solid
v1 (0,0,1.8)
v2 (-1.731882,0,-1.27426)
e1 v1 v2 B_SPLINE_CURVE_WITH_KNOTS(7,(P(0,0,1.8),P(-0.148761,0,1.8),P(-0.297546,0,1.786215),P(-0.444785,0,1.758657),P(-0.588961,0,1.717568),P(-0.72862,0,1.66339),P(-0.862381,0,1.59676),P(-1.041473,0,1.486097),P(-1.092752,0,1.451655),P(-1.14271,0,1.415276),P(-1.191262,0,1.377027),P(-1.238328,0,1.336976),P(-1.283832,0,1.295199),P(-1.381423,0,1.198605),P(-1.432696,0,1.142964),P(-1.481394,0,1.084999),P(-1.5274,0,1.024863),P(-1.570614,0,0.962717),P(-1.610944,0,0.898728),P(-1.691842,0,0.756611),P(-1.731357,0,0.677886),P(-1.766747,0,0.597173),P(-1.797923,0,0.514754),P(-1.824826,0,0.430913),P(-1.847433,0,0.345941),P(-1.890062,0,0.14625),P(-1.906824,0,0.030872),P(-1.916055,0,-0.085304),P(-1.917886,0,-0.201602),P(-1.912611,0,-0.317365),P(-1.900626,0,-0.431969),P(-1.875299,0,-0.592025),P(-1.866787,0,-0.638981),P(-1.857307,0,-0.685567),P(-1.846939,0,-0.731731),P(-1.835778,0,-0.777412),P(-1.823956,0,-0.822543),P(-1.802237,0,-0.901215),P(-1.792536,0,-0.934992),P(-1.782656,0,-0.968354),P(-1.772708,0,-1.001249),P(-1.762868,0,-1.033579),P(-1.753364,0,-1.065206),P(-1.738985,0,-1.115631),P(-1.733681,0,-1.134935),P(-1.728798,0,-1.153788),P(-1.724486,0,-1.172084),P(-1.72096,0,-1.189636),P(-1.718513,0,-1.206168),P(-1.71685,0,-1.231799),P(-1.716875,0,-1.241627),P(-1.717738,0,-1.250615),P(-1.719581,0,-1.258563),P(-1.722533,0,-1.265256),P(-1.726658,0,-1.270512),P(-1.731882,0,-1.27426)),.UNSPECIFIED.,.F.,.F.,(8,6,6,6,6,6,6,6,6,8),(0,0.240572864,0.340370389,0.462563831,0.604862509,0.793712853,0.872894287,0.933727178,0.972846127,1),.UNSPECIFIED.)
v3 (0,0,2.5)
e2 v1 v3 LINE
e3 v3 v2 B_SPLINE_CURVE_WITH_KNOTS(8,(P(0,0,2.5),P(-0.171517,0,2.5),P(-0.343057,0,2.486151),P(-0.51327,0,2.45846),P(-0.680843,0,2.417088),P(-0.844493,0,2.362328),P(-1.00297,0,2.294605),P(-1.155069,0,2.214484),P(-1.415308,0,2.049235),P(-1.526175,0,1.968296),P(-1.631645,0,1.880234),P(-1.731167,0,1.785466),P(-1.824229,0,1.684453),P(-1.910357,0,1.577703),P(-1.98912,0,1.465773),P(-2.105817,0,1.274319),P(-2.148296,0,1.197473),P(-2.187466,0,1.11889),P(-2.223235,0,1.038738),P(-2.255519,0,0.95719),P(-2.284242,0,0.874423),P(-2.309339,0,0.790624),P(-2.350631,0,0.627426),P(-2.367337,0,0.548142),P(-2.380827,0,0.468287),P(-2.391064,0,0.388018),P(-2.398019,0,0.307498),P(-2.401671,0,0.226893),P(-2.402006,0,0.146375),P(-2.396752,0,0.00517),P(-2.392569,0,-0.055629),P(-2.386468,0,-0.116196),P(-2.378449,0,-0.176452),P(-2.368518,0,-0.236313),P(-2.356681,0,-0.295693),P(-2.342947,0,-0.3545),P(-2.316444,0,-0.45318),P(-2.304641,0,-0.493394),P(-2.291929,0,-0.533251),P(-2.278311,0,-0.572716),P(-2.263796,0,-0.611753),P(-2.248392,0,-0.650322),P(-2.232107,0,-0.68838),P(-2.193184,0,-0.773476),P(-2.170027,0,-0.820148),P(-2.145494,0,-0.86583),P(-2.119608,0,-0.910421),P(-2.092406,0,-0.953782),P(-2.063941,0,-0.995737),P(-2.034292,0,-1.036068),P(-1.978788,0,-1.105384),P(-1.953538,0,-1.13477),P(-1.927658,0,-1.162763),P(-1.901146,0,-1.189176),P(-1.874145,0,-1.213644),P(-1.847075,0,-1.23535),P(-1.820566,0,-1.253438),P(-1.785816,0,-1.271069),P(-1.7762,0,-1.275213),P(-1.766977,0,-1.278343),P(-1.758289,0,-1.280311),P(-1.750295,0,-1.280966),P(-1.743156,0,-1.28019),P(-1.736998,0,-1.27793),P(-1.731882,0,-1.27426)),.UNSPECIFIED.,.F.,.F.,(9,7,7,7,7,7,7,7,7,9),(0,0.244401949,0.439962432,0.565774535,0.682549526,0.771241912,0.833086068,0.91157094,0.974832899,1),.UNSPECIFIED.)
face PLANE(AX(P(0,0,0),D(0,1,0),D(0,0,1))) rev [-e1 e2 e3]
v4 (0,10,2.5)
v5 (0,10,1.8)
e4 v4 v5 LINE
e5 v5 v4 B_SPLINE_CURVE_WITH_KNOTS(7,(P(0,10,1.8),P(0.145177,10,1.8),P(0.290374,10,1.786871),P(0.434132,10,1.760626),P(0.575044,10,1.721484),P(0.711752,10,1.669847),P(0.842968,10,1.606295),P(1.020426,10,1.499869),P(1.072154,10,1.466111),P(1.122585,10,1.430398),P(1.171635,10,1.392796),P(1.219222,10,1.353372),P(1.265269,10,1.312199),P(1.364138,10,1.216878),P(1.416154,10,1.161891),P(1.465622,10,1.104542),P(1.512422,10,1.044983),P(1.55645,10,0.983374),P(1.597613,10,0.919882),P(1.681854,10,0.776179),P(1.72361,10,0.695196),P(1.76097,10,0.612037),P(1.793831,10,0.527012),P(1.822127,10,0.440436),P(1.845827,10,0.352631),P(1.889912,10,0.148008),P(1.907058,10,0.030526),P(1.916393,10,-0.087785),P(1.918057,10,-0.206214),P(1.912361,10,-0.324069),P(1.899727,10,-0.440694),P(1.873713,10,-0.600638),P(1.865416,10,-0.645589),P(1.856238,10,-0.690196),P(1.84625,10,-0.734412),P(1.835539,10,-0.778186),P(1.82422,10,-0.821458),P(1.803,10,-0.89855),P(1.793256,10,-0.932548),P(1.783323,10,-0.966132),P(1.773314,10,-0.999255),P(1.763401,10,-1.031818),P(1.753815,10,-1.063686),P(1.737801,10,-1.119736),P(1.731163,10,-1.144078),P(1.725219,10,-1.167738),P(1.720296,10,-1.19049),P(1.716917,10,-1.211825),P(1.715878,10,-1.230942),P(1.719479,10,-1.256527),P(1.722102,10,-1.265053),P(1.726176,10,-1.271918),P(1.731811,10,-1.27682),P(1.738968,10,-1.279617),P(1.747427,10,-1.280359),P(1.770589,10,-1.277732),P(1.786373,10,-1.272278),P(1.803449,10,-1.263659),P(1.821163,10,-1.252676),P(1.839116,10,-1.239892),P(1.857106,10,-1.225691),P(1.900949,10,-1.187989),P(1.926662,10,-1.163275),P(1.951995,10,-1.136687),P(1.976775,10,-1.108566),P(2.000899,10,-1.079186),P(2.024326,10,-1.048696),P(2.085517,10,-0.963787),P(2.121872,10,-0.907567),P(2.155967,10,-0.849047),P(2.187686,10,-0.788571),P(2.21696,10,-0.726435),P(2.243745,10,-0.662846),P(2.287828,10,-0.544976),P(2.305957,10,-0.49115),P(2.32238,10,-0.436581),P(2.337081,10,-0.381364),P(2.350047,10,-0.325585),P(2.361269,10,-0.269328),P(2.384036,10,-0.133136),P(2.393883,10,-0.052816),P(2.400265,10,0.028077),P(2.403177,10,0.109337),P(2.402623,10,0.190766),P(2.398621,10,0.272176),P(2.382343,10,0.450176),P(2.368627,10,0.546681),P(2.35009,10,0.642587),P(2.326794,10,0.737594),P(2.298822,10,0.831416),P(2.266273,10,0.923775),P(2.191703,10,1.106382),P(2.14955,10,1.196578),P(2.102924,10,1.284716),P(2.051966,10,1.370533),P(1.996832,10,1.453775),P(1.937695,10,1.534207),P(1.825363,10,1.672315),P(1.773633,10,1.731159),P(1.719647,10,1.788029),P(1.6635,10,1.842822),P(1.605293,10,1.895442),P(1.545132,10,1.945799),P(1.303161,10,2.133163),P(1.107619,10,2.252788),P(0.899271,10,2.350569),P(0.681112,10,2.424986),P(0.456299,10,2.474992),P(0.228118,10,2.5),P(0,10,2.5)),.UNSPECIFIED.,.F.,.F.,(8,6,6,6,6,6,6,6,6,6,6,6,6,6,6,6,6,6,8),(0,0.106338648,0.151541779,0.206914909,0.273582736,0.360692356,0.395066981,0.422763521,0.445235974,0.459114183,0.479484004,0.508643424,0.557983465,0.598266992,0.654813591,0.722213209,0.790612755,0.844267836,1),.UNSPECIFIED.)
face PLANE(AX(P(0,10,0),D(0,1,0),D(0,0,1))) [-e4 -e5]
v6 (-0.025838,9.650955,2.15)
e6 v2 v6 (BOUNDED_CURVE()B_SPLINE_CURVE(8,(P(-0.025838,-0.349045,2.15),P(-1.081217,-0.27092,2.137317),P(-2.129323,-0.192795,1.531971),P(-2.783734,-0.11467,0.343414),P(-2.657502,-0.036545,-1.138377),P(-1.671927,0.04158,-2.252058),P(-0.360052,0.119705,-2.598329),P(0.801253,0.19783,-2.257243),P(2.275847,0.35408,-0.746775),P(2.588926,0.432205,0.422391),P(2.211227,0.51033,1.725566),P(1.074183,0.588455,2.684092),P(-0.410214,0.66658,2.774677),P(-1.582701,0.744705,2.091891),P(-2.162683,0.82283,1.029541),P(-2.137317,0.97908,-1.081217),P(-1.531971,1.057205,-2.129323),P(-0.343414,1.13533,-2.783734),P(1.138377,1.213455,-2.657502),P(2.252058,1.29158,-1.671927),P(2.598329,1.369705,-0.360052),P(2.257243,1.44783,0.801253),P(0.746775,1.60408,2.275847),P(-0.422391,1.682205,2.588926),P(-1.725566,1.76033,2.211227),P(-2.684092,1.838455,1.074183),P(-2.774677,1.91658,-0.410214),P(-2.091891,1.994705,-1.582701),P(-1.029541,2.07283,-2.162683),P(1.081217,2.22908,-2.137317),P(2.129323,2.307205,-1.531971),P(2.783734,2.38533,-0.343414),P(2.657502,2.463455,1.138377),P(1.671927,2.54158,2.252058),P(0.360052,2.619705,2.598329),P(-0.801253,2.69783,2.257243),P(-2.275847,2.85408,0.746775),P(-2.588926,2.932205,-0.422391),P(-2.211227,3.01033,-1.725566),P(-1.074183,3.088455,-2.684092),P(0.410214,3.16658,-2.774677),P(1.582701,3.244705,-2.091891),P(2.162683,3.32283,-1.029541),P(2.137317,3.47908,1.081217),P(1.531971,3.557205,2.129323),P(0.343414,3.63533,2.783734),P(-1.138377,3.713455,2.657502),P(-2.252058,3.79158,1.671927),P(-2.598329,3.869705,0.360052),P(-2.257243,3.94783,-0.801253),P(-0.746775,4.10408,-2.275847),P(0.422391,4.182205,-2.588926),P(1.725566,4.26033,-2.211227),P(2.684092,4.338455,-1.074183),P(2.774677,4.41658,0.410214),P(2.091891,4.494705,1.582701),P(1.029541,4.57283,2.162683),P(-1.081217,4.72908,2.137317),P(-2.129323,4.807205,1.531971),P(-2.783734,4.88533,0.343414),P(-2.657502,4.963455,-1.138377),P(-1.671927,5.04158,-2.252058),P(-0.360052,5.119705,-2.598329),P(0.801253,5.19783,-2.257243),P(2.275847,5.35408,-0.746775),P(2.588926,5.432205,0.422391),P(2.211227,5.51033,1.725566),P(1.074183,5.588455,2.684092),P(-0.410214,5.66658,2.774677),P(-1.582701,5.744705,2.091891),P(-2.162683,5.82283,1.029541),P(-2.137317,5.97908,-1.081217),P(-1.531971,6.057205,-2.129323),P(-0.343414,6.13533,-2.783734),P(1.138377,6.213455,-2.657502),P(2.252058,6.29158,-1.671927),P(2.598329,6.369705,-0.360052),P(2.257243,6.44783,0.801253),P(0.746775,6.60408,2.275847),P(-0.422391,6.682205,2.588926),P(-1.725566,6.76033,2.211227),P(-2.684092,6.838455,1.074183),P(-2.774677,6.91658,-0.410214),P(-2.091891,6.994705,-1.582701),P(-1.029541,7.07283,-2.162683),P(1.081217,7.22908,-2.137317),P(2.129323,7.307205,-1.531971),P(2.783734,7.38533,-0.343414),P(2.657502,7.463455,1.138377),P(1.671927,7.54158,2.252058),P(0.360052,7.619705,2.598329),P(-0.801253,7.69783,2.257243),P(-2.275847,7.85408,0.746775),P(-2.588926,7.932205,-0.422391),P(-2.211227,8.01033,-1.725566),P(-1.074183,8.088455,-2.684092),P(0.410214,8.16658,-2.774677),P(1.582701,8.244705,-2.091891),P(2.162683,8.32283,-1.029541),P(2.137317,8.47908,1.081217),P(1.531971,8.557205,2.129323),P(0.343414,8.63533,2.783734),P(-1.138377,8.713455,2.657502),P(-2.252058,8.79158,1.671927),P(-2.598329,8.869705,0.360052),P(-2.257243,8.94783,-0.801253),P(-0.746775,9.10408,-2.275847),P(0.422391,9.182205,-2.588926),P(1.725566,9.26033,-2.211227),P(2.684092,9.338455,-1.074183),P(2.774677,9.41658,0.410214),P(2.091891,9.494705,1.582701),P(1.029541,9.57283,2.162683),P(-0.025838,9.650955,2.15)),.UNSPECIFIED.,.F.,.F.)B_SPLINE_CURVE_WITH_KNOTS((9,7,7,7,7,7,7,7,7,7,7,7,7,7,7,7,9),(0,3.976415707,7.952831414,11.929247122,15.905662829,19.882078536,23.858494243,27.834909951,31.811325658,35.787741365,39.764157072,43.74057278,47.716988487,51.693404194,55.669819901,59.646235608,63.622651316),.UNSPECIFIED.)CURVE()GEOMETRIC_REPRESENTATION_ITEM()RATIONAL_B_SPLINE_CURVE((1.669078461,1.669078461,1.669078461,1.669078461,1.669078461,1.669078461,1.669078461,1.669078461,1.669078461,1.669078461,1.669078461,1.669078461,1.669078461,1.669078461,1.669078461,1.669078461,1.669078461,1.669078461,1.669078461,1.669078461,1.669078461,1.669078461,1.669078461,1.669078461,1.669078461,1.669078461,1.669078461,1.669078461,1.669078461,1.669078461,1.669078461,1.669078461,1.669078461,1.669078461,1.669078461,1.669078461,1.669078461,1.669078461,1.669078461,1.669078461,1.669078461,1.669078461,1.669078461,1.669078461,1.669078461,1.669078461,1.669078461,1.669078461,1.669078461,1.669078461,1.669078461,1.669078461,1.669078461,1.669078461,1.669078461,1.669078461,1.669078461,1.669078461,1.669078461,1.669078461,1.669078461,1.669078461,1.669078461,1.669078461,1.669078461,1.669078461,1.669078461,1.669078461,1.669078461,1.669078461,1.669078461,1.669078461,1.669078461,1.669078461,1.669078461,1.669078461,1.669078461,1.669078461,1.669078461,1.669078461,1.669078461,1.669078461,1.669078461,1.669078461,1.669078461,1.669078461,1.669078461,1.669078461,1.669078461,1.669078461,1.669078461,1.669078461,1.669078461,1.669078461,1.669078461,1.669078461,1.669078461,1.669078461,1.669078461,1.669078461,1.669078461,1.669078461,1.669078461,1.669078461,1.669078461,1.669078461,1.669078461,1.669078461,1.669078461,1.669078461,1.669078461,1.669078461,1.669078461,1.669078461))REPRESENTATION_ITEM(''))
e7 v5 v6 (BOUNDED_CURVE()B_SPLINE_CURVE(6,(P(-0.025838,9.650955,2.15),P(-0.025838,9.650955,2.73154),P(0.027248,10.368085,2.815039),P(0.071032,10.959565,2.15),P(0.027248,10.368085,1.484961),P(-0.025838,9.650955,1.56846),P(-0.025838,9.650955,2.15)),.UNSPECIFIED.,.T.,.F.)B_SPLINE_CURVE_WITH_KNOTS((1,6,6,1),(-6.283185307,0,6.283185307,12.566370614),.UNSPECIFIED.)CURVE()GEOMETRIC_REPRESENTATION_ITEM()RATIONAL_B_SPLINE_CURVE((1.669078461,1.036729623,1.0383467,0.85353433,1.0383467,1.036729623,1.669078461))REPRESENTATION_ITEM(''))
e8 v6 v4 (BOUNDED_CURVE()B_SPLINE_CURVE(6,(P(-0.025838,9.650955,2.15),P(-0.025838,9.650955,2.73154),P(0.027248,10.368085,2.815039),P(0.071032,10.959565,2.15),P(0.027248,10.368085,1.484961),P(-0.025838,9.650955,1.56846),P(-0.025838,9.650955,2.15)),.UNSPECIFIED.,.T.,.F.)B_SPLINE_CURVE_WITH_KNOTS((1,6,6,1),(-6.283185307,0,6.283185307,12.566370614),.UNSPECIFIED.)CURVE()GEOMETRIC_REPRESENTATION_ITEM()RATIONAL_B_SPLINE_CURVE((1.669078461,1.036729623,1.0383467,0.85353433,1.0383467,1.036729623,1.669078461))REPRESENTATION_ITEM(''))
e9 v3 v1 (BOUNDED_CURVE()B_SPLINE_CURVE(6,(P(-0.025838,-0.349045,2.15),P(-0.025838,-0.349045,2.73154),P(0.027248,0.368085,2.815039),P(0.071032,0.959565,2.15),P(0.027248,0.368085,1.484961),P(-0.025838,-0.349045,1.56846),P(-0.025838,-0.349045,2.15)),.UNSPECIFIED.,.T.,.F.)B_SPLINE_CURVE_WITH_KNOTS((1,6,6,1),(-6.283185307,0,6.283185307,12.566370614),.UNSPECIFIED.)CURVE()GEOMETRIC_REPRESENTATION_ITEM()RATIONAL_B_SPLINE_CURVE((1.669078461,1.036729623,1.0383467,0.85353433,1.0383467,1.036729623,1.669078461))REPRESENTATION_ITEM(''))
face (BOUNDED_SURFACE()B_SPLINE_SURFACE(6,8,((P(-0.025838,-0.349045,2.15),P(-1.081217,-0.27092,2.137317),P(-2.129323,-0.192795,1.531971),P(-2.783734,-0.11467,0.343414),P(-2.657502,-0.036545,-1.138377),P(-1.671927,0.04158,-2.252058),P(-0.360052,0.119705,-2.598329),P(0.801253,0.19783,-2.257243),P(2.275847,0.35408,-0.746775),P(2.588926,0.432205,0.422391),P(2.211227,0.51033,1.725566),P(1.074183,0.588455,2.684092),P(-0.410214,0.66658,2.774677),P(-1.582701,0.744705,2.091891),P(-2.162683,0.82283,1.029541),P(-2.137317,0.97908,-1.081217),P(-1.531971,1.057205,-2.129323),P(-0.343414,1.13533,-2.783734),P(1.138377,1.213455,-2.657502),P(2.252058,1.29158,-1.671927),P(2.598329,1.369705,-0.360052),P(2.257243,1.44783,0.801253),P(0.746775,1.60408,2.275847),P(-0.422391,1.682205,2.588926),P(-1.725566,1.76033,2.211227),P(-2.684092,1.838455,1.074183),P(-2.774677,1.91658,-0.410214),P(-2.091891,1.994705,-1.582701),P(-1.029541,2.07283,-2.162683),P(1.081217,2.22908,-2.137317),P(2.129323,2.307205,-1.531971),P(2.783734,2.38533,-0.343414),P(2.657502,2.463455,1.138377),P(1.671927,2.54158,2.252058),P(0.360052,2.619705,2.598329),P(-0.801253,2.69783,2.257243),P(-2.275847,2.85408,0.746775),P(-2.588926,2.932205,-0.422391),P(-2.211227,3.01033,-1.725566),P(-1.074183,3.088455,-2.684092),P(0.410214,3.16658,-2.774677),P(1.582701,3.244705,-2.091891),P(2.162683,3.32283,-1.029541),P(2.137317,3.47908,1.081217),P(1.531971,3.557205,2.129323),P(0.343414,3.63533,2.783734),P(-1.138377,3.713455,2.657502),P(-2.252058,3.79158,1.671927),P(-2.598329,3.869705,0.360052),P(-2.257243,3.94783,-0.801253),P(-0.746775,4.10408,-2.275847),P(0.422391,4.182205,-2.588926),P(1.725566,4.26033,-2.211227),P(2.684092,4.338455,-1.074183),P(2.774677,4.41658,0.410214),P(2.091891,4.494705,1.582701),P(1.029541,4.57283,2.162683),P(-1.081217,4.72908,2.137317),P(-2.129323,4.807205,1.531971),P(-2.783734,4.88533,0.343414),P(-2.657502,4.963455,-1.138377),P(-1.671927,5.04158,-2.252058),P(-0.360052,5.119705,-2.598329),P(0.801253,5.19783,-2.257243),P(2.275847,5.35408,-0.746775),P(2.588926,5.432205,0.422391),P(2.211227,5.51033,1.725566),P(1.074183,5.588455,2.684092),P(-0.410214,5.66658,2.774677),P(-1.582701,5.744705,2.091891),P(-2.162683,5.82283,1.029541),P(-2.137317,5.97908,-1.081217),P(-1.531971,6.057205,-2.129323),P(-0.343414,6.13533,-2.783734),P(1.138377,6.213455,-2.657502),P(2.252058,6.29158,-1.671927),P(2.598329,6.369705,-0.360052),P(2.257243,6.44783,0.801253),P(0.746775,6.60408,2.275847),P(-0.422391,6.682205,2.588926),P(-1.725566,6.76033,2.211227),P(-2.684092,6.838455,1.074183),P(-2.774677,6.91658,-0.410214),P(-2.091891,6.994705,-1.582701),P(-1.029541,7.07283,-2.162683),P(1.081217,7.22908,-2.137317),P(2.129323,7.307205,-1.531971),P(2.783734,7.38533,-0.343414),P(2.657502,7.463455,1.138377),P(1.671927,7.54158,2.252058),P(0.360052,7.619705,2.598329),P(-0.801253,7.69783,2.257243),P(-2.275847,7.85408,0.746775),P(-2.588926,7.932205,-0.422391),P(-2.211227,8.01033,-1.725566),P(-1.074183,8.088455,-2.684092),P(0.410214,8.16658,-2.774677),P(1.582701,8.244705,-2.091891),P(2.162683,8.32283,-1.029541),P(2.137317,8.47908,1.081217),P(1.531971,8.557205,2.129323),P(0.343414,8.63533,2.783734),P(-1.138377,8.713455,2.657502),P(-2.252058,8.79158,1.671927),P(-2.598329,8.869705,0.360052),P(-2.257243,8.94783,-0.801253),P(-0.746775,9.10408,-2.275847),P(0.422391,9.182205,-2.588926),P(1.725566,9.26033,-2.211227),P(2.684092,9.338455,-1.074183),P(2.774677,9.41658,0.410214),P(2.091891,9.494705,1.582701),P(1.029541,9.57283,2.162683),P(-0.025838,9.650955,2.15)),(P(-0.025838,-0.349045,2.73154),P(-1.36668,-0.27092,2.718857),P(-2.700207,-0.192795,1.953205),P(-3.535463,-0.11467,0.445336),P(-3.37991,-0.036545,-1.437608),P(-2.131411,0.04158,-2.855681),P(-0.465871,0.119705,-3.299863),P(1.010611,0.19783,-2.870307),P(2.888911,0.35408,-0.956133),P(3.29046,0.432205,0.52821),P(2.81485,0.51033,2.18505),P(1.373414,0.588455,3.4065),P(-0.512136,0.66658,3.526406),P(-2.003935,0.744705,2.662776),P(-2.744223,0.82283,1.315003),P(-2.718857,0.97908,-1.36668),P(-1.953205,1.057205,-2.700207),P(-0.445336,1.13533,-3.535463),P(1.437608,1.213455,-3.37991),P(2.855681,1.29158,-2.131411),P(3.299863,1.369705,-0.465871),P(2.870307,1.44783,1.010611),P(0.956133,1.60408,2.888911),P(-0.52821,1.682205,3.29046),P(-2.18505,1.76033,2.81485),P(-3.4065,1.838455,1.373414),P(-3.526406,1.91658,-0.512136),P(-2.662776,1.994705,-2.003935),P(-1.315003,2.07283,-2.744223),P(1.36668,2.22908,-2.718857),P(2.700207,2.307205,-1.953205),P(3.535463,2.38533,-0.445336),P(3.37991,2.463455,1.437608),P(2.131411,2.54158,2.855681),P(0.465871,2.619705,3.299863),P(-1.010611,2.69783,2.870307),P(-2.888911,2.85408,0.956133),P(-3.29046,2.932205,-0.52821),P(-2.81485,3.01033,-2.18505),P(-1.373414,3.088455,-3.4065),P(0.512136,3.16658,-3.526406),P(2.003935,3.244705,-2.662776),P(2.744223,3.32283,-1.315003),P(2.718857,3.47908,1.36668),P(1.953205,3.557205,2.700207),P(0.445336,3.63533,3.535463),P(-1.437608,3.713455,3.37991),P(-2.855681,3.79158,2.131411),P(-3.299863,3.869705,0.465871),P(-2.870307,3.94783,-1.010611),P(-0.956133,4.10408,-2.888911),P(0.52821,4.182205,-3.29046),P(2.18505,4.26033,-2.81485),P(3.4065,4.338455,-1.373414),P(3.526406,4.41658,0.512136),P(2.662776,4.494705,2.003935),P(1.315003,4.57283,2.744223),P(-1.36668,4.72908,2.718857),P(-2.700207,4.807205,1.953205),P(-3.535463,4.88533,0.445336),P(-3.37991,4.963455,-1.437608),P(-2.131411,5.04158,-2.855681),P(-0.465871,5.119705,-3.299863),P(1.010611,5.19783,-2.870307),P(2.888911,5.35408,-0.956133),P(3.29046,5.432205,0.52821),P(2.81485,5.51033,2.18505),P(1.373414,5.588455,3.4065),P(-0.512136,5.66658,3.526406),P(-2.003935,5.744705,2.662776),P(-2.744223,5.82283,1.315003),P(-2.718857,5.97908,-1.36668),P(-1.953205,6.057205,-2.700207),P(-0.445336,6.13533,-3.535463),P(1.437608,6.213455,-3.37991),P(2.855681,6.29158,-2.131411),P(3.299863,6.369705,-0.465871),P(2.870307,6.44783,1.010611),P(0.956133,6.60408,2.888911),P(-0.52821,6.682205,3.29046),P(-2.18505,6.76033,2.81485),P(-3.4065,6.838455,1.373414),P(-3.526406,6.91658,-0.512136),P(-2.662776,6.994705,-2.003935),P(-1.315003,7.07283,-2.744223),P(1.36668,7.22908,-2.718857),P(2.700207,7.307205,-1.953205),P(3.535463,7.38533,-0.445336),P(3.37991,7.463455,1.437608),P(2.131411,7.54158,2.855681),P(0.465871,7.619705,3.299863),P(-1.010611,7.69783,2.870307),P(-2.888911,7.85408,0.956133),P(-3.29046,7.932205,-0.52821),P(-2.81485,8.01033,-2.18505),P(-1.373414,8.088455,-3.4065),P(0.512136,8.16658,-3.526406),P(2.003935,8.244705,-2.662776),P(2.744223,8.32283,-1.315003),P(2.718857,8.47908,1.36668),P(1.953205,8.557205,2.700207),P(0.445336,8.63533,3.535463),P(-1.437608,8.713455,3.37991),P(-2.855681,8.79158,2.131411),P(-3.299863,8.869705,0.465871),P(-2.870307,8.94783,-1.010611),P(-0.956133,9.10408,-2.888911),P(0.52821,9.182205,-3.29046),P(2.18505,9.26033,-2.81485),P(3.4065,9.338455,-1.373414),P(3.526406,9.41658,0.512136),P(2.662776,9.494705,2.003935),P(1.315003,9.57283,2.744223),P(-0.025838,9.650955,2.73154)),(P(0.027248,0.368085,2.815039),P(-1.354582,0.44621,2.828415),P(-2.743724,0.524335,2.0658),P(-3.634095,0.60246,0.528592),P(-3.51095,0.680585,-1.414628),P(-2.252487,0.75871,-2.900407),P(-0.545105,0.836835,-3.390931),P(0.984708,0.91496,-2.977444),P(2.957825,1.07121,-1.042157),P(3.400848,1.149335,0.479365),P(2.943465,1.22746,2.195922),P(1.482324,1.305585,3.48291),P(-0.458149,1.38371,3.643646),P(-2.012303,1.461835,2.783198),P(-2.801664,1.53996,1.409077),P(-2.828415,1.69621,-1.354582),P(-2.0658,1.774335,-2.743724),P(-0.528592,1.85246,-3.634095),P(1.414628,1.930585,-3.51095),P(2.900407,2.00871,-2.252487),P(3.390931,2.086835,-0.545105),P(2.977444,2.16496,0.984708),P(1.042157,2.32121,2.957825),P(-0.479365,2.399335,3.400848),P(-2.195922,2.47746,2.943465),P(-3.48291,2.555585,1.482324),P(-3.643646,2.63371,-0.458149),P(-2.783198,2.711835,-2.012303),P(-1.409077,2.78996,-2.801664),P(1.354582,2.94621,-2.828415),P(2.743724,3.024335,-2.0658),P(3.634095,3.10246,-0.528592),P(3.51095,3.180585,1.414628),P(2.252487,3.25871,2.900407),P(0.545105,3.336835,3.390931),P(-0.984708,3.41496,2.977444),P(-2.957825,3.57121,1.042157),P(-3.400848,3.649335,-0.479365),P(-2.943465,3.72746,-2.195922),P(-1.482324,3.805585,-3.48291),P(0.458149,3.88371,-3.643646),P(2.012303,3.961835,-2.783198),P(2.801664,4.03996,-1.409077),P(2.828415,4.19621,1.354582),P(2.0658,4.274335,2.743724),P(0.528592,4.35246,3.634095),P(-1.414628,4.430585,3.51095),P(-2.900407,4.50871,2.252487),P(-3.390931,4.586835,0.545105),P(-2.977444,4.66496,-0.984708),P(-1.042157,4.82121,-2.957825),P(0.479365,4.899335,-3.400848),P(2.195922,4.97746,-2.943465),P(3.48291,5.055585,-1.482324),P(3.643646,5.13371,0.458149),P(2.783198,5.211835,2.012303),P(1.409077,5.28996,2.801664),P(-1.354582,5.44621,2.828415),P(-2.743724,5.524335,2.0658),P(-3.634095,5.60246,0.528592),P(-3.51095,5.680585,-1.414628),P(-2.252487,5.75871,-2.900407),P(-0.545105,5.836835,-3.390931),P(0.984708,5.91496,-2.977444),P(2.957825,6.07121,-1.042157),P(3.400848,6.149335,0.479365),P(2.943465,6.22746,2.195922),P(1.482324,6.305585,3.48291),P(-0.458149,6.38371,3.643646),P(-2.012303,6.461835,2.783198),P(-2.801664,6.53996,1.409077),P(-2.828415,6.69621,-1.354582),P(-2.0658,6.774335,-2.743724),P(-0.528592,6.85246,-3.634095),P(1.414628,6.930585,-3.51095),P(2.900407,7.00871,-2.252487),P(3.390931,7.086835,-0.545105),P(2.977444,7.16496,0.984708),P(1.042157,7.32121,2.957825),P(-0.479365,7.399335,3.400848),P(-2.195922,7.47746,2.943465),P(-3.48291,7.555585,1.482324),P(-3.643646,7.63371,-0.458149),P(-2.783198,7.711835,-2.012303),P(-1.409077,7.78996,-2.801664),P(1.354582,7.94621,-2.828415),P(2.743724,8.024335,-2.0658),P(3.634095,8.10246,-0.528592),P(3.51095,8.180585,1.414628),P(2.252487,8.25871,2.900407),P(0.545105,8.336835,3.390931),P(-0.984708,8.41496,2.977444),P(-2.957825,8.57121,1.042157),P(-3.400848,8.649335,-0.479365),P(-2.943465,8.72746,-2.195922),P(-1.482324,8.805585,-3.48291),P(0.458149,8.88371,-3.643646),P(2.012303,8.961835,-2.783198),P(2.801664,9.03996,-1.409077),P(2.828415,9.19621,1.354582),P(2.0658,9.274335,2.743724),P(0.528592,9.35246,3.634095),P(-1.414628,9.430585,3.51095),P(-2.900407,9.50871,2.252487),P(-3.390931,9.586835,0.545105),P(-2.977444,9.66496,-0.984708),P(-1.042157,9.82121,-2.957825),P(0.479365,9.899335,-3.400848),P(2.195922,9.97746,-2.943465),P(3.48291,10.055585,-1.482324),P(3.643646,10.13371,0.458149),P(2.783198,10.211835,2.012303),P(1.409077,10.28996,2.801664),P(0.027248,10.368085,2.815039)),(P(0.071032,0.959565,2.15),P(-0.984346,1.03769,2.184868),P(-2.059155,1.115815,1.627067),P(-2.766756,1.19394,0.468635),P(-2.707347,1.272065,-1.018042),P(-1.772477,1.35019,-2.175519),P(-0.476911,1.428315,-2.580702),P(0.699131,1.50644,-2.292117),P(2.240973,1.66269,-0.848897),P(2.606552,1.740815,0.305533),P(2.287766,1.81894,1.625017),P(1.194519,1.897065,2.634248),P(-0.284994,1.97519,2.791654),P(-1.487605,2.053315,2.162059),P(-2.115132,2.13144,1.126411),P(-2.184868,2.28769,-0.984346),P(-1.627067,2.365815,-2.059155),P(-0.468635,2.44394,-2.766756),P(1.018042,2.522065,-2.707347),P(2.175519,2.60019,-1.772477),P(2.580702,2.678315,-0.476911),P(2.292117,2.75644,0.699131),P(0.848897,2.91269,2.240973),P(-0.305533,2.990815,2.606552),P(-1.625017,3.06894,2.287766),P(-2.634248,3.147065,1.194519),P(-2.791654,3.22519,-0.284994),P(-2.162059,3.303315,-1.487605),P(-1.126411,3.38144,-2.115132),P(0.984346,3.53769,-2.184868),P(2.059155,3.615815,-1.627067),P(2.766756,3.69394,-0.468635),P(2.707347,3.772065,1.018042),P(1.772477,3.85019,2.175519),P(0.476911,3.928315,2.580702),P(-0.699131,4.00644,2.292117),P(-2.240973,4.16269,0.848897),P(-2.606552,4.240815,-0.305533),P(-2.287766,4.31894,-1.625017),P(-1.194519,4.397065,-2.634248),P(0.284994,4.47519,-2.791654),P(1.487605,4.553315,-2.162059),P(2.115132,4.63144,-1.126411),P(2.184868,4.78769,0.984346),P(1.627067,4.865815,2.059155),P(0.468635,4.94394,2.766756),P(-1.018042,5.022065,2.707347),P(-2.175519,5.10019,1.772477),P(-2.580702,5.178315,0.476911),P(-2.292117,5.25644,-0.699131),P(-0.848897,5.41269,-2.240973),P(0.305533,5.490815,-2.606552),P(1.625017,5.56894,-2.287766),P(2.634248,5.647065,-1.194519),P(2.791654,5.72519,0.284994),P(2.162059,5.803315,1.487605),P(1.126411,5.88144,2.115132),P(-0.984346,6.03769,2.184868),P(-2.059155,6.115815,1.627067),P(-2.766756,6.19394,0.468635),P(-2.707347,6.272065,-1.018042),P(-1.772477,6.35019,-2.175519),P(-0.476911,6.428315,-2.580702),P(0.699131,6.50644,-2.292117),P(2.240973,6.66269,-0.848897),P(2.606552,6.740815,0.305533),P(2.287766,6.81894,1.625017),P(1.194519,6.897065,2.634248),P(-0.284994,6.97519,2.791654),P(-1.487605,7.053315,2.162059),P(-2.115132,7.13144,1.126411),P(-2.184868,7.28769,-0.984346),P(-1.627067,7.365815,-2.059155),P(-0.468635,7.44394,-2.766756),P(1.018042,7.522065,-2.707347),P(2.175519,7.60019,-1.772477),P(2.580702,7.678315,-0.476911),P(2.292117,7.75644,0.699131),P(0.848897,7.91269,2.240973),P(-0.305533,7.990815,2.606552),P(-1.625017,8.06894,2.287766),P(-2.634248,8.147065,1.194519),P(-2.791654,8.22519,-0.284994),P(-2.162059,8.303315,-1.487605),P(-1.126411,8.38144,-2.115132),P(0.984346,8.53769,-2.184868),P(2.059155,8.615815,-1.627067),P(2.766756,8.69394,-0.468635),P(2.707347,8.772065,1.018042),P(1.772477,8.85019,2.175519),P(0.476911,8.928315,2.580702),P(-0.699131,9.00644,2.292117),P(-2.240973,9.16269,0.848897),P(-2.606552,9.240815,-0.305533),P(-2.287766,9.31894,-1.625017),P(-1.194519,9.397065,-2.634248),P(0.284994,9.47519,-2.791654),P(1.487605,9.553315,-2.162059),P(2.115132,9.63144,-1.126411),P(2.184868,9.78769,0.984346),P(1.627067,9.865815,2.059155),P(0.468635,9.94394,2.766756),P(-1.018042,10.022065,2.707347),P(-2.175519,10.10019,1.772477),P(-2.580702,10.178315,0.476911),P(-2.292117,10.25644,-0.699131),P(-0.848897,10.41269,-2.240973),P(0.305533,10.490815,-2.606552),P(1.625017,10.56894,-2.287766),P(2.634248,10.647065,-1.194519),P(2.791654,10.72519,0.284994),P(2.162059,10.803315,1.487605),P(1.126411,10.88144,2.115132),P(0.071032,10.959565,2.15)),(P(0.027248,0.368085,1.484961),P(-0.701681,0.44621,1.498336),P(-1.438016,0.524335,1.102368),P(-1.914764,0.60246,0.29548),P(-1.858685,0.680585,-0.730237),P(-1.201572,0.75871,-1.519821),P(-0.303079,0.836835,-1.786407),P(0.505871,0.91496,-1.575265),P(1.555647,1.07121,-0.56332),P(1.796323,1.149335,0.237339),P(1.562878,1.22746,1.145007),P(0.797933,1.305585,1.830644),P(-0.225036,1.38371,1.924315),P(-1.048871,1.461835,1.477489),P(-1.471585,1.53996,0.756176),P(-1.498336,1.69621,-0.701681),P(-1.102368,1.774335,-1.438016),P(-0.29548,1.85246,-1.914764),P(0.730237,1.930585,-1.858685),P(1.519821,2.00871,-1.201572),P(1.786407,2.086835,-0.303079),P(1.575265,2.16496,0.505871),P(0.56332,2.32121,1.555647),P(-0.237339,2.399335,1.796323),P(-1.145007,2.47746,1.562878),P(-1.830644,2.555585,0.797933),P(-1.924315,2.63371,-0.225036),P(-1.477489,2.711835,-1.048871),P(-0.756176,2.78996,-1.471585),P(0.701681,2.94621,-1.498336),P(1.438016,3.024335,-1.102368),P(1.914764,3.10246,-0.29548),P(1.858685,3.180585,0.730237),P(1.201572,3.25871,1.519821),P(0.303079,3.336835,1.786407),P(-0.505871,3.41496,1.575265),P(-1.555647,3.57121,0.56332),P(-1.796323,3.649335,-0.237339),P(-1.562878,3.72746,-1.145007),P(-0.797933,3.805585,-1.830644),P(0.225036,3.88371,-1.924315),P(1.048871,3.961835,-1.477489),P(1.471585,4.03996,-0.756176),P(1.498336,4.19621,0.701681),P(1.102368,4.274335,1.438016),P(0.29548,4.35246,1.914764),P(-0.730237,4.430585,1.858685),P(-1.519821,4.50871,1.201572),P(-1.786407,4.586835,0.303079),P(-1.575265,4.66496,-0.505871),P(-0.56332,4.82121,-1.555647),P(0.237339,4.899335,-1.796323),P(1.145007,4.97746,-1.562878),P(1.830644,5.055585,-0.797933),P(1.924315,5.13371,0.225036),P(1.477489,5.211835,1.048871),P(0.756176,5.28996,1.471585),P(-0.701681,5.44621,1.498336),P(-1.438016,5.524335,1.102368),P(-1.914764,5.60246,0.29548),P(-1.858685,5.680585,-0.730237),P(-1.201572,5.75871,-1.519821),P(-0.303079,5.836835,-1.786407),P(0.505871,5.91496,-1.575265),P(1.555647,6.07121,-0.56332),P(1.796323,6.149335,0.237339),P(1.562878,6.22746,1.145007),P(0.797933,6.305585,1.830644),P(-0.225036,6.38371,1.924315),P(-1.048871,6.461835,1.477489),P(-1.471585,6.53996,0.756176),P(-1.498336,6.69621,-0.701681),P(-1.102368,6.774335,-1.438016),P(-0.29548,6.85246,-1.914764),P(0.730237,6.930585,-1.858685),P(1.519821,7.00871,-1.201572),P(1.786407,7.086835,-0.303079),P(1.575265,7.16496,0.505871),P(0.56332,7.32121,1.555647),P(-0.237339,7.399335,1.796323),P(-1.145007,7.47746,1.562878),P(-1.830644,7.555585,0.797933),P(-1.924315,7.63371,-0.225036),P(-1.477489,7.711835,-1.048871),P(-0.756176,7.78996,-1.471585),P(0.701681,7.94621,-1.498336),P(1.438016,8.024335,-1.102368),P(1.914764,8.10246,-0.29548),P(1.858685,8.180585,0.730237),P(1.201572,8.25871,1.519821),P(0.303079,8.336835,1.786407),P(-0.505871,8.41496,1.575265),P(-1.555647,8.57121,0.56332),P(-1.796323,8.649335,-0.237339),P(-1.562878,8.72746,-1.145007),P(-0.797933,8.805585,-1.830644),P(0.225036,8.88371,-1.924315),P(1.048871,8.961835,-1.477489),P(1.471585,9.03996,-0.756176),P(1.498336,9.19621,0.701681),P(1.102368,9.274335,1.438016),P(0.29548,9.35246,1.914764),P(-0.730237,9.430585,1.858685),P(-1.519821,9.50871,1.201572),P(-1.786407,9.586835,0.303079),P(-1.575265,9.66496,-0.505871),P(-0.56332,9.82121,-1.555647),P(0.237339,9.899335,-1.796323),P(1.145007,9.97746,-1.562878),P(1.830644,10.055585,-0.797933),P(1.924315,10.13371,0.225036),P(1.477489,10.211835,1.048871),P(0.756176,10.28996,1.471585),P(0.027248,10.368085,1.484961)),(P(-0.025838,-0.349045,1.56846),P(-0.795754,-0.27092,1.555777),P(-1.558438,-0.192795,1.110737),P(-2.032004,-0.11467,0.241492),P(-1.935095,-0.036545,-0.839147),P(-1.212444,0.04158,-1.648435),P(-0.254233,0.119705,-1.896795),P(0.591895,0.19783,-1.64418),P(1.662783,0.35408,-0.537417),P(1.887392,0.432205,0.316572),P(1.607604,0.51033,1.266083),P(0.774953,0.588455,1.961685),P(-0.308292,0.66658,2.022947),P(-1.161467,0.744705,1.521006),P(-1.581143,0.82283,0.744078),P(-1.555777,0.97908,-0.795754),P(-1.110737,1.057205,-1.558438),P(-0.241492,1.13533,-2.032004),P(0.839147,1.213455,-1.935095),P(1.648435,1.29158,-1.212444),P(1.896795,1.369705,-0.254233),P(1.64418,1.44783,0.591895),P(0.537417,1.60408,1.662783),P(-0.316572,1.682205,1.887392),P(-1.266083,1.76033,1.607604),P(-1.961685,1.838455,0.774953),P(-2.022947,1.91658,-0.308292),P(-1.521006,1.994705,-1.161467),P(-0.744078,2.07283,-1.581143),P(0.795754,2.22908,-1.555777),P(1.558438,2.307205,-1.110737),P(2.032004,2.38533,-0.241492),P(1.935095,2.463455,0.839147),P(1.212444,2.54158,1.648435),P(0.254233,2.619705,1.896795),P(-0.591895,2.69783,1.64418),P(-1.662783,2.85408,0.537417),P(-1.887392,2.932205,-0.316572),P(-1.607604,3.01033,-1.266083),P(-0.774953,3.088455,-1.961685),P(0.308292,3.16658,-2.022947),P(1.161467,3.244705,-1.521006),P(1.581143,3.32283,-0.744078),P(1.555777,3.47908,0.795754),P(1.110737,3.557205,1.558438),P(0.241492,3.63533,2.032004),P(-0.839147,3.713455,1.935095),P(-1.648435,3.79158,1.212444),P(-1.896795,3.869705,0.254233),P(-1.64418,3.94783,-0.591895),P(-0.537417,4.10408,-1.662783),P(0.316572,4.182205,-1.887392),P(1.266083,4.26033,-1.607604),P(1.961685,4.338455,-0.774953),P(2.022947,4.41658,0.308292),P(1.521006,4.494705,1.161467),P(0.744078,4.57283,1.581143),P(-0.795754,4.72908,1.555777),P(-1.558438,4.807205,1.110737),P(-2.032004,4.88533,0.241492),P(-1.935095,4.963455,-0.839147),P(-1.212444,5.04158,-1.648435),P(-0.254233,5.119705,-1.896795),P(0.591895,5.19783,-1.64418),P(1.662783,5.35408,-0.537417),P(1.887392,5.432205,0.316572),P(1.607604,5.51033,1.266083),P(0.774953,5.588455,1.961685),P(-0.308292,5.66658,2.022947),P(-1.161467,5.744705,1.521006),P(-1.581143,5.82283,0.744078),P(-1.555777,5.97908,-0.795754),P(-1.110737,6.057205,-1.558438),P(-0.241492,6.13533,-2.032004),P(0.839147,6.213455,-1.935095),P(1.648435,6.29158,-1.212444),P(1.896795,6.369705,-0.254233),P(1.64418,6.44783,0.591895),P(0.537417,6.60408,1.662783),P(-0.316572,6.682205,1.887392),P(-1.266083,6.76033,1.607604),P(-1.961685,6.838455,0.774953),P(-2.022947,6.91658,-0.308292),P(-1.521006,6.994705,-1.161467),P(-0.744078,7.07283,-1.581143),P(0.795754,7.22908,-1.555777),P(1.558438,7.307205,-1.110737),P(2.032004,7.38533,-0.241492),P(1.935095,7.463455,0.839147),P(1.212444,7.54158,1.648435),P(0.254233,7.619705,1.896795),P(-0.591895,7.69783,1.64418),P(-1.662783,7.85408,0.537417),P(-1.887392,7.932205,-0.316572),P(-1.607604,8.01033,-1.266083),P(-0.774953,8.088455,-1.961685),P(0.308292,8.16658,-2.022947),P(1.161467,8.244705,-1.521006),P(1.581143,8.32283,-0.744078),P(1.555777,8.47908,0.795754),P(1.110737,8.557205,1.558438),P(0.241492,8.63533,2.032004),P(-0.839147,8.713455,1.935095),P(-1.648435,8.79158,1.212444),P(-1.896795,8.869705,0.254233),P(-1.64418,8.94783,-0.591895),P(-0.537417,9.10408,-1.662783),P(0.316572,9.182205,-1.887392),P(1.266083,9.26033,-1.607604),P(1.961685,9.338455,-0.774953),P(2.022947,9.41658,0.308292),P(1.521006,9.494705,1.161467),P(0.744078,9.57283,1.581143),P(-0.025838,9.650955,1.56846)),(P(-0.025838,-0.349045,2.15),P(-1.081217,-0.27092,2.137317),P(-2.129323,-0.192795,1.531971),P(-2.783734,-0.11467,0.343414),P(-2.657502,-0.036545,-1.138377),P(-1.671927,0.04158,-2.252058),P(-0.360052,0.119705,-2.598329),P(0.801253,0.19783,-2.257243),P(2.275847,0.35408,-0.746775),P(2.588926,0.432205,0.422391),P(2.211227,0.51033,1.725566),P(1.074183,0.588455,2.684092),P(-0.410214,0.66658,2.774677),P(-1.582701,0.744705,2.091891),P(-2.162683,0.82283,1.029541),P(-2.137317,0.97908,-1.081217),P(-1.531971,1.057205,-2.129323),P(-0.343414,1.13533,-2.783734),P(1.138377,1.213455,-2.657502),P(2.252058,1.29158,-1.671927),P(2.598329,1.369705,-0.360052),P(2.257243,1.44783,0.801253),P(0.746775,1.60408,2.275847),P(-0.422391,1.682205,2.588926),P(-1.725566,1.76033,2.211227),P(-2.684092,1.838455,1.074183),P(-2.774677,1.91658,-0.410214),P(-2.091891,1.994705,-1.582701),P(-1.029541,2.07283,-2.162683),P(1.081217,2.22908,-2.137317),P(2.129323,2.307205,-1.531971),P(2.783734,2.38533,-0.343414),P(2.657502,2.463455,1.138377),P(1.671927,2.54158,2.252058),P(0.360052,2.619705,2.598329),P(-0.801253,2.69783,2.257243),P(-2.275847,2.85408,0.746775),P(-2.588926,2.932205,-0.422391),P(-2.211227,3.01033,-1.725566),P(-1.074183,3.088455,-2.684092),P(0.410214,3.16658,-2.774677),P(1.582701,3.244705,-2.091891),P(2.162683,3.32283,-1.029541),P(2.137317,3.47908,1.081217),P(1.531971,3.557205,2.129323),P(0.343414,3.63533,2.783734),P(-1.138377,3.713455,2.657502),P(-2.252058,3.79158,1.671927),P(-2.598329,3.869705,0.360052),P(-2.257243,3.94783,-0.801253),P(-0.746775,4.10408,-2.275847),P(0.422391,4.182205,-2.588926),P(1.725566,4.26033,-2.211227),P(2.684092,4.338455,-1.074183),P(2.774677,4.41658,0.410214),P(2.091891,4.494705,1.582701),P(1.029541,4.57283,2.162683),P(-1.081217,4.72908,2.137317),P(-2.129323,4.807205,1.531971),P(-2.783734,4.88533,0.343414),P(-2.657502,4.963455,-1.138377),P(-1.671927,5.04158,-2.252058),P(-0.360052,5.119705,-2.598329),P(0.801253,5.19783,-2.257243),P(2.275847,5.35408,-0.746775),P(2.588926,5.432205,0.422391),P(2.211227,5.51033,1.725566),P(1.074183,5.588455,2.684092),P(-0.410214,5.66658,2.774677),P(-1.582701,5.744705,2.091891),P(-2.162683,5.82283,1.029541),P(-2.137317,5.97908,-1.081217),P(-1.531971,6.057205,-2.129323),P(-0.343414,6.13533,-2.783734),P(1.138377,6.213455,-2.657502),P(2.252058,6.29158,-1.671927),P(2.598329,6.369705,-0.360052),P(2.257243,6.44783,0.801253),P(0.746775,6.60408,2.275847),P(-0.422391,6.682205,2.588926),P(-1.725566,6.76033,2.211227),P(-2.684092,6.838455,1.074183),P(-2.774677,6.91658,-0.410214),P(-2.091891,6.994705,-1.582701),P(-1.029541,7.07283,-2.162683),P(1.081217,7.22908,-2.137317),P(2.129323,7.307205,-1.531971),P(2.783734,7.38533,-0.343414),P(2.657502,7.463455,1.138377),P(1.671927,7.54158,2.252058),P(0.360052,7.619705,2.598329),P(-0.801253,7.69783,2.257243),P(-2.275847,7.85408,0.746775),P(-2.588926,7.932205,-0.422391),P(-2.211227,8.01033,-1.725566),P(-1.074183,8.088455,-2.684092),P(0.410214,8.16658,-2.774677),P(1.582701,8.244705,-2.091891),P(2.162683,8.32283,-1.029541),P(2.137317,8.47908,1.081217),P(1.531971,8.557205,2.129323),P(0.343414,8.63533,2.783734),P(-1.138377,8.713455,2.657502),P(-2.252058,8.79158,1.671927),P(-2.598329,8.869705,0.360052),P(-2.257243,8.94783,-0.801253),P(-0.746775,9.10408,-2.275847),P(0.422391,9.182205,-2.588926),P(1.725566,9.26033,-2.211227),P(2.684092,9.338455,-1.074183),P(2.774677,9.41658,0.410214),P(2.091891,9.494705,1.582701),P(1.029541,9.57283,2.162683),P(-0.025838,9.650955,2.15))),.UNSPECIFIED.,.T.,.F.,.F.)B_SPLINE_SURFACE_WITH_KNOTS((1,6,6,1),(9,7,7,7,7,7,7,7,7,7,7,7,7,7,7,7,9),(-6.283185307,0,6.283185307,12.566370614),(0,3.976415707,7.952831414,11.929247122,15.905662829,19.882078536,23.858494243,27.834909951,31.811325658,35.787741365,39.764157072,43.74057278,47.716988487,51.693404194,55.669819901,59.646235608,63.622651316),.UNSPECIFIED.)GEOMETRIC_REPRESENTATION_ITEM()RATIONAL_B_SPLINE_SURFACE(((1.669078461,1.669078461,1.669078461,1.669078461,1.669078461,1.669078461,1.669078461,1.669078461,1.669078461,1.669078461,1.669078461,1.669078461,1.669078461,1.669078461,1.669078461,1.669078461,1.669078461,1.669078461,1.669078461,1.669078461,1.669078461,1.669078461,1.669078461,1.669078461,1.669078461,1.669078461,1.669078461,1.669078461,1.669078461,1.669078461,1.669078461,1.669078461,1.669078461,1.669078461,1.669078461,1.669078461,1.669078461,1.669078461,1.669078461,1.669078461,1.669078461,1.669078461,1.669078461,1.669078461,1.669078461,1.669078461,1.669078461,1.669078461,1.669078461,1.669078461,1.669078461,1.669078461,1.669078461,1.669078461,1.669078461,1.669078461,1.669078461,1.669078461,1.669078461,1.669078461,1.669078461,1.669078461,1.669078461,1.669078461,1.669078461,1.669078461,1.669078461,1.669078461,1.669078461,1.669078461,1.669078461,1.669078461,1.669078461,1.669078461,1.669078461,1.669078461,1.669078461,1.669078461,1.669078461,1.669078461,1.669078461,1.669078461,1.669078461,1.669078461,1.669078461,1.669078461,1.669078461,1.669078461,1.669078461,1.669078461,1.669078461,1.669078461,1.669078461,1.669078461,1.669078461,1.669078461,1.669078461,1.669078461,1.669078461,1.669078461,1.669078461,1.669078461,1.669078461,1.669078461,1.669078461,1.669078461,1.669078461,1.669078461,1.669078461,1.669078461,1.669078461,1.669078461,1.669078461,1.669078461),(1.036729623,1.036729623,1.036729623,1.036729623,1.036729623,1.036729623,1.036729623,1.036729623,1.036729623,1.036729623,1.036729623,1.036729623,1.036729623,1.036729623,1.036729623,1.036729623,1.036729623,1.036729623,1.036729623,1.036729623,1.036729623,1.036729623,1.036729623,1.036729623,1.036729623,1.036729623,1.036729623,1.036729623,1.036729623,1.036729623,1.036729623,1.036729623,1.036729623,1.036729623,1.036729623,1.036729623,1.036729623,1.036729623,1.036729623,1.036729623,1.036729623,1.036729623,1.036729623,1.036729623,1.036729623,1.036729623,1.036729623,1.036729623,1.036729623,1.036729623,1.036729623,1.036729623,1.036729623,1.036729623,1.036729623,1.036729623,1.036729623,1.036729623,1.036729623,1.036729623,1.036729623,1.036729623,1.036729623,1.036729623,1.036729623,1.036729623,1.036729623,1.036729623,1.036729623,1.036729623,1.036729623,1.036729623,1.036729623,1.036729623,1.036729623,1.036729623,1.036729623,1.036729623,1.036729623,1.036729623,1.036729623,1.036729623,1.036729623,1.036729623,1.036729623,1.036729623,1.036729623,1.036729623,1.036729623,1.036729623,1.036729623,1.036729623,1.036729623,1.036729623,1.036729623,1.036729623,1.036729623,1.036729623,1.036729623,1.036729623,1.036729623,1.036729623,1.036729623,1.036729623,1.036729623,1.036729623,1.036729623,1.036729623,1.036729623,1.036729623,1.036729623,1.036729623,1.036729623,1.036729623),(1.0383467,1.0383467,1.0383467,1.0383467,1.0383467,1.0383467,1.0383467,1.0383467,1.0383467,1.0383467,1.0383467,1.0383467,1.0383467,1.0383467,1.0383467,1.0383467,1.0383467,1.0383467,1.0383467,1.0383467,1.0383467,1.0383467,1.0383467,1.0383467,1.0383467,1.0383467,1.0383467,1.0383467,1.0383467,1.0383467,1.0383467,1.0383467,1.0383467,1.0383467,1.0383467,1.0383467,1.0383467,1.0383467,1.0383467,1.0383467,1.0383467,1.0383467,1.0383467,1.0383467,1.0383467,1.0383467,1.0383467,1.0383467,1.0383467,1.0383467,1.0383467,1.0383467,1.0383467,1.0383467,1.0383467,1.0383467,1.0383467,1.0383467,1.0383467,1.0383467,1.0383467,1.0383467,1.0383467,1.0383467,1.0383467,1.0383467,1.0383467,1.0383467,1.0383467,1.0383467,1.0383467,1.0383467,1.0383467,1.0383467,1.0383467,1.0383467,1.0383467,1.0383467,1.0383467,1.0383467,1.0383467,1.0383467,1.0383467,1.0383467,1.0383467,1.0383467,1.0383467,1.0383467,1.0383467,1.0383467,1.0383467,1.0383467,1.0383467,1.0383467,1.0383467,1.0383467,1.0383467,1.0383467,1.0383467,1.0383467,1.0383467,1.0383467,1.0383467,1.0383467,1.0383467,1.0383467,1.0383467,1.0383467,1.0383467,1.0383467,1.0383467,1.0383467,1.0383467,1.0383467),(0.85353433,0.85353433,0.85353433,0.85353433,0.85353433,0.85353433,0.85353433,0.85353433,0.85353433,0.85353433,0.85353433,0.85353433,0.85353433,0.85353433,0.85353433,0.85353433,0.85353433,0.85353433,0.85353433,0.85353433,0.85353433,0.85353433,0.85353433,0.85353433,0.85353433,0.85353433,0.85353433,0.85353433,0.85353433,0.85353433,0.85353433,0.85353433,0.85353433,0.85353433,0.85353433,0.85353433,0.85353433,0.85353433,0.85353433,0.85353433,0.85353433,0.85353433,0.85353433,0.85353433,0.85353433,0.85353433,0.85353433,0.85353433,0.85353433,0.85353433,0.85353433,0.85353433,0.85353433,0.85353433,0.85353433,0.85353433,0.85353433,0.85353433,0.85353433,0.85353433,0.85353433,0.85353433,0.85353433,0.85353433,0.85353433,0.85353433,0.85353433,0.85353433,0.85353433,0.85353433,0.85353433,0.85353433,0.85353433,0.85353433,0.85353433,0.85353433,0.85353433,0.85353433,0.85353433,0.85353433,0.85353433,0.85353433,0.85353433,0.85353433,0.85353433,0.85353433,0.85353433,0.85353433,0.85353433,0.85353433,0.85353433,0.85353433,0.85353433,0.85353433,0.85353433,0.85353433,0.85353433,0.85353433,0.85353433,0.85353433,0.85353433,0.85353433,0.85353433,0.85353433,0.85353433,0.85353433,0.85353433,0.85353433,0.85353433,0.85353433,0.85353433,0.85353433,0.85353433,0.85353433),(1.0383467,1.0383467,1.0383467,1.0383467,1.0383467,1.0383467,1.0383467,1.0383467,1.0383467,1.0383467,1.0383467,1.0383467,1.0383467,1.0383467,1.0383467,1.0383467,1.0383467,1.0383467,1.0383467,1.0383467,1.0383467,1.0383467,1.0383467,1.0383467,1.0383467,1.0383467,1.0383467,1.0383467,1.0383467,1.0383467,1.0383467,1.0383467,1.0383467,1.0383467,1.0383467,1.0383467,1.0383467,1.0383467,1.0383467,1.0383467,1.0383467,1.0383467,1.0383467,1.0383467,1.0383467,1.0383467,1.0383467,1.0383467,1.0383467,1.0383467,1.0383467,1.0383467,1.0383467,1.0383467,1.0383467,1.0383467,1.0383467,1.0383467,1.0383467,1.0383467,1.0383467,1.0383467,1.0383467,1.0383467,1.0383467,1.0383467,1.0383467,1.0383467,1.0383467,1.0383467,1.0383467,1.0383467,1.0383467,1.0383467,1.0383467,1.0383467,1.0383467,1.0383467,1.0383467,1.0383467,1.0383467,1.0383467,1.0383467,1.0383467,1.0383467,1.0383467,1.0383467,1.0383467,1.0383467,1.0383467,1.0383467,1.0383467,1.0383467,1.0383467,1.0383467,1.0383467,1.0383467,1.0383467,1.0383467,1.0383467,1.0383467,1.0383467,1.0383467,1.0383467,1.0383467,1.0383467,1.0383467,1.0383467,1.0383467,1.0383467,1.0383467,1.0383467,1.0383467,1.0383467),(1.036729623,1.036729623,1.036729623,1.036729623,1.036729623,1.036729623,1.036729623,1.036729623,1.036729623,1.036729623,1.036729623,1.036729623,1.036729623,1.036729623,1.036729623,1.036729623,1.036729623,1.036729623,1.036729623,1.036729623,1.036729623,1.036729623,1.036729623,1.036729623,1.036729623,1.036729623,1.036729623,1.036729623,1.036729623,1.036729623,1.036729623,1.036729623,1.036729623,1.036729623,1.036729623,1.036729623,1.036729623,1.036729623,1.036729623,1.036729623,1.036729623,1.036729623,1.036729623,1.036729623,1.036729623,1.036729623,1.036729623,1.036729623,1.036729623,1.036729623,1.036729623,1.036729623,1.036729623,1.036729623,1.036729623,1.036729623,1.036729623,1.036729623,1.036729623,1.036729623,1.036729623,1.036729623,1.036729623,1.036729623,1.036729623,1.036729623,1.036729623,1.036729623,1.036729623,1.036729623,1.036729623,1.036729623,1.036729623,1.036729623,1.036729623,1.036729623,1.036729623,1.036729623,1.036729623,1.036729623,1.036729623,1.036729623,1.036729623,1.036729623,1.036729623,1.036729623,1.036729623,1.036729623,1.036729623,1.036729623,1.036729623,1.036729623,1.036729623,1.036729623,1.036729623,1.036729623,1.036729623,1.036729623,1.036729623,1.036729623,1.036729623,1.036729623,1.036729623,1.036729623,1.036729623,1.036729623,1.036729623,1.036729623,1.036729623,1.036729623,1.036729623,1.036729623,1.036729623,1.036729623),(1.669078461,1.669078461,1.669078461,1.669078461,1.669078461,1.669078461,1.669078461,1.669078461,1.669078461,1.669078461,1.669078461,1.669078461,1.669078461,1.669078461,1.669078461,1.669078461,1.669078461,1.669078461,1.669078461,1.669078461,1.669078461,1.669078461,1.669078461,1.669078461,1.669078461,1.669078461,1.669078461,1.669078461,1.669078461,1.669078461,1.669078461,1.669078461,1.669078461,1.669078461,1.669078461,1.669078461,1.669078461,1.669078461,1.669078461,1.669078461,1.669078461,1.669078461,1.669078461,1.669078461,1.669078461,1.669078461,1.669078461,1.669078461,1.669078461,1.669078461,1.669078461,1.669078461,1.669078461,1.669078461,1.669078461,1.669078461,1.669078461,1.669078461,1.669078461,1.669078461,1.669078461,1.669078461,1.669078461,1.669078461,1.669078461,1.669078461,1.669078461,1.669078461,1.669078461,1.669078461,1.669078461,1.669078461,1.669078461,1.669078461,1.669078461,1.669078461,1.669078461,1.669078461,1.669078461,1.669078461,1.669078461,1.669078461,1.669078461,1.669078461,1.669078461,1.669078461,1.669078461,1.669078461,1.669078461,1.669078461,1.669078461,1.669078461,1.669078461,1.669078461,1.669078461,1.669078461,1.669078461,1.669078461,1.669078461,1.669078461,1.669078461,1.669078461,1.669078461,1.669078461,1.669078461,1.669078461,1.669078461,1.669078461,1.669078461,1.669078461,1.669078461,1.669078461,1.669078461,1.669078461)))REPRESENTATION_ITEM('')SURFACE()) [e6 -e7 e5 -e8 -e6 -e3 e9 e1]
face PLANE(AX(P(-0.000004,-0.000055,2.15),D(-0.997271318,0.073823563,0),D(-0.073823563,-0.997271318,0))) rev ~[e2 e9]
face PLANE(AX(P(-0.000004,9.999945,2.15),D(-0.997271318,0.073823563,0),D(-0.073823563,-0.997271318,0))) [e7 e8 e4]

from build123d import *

# Parameters (mm, degrees)
SWEEP2_PITCH     = 1
SWEEP2_HEIGHT    = 10
SWEEP2_RADIUS    = 2.15
SWEEP2_PROFILE_R = 0.35


with BuildPart() as part:
    # Sweep2: sweep along a helix
    with BuildLine() as sweep2_path:
        Helix(SWEEP2_PITCH, SWEEP2_HEIGHT, SWEEP2_RADIUS, center=(0, 0, 0), direction=(0, 1, 0), lefthand=True)
    # Sweep2 profile (on start of the path) → Sweep2 (sweep)
    with BuildSketch(Plane(origin=(0, 0, 2.15), x_dir=(-0.073823563, -0.997271318, 0), z_dir=(-0.997271318, 0.073823563, 0))):
        Circle(SWEEP2_PROFILE_R)
    sweep(path=sweep2_path.line, is_frenet=True)

    # Sketch3 → Cut-Revolve1 (revolve, cut)
    with BuildSketch(Plane(origin=(0, 0, 0), x_dir=(0, 0, -1), z_dir=(1, 0, 0))):
        Polygon((0, 0), (-2.847527329, 0), (-2.847527329, 10), (0, 10), (0, 10.703100794), (-4.32187582, 10.703100794), (-4.32187582, -0.605638184), (0, -0.605638184), align=None)
    revolve(axis=Axis((0, -0.605638184, 0), (0, 1, 0)), mode=Mode.SUBTRACT)


solid = part.part
